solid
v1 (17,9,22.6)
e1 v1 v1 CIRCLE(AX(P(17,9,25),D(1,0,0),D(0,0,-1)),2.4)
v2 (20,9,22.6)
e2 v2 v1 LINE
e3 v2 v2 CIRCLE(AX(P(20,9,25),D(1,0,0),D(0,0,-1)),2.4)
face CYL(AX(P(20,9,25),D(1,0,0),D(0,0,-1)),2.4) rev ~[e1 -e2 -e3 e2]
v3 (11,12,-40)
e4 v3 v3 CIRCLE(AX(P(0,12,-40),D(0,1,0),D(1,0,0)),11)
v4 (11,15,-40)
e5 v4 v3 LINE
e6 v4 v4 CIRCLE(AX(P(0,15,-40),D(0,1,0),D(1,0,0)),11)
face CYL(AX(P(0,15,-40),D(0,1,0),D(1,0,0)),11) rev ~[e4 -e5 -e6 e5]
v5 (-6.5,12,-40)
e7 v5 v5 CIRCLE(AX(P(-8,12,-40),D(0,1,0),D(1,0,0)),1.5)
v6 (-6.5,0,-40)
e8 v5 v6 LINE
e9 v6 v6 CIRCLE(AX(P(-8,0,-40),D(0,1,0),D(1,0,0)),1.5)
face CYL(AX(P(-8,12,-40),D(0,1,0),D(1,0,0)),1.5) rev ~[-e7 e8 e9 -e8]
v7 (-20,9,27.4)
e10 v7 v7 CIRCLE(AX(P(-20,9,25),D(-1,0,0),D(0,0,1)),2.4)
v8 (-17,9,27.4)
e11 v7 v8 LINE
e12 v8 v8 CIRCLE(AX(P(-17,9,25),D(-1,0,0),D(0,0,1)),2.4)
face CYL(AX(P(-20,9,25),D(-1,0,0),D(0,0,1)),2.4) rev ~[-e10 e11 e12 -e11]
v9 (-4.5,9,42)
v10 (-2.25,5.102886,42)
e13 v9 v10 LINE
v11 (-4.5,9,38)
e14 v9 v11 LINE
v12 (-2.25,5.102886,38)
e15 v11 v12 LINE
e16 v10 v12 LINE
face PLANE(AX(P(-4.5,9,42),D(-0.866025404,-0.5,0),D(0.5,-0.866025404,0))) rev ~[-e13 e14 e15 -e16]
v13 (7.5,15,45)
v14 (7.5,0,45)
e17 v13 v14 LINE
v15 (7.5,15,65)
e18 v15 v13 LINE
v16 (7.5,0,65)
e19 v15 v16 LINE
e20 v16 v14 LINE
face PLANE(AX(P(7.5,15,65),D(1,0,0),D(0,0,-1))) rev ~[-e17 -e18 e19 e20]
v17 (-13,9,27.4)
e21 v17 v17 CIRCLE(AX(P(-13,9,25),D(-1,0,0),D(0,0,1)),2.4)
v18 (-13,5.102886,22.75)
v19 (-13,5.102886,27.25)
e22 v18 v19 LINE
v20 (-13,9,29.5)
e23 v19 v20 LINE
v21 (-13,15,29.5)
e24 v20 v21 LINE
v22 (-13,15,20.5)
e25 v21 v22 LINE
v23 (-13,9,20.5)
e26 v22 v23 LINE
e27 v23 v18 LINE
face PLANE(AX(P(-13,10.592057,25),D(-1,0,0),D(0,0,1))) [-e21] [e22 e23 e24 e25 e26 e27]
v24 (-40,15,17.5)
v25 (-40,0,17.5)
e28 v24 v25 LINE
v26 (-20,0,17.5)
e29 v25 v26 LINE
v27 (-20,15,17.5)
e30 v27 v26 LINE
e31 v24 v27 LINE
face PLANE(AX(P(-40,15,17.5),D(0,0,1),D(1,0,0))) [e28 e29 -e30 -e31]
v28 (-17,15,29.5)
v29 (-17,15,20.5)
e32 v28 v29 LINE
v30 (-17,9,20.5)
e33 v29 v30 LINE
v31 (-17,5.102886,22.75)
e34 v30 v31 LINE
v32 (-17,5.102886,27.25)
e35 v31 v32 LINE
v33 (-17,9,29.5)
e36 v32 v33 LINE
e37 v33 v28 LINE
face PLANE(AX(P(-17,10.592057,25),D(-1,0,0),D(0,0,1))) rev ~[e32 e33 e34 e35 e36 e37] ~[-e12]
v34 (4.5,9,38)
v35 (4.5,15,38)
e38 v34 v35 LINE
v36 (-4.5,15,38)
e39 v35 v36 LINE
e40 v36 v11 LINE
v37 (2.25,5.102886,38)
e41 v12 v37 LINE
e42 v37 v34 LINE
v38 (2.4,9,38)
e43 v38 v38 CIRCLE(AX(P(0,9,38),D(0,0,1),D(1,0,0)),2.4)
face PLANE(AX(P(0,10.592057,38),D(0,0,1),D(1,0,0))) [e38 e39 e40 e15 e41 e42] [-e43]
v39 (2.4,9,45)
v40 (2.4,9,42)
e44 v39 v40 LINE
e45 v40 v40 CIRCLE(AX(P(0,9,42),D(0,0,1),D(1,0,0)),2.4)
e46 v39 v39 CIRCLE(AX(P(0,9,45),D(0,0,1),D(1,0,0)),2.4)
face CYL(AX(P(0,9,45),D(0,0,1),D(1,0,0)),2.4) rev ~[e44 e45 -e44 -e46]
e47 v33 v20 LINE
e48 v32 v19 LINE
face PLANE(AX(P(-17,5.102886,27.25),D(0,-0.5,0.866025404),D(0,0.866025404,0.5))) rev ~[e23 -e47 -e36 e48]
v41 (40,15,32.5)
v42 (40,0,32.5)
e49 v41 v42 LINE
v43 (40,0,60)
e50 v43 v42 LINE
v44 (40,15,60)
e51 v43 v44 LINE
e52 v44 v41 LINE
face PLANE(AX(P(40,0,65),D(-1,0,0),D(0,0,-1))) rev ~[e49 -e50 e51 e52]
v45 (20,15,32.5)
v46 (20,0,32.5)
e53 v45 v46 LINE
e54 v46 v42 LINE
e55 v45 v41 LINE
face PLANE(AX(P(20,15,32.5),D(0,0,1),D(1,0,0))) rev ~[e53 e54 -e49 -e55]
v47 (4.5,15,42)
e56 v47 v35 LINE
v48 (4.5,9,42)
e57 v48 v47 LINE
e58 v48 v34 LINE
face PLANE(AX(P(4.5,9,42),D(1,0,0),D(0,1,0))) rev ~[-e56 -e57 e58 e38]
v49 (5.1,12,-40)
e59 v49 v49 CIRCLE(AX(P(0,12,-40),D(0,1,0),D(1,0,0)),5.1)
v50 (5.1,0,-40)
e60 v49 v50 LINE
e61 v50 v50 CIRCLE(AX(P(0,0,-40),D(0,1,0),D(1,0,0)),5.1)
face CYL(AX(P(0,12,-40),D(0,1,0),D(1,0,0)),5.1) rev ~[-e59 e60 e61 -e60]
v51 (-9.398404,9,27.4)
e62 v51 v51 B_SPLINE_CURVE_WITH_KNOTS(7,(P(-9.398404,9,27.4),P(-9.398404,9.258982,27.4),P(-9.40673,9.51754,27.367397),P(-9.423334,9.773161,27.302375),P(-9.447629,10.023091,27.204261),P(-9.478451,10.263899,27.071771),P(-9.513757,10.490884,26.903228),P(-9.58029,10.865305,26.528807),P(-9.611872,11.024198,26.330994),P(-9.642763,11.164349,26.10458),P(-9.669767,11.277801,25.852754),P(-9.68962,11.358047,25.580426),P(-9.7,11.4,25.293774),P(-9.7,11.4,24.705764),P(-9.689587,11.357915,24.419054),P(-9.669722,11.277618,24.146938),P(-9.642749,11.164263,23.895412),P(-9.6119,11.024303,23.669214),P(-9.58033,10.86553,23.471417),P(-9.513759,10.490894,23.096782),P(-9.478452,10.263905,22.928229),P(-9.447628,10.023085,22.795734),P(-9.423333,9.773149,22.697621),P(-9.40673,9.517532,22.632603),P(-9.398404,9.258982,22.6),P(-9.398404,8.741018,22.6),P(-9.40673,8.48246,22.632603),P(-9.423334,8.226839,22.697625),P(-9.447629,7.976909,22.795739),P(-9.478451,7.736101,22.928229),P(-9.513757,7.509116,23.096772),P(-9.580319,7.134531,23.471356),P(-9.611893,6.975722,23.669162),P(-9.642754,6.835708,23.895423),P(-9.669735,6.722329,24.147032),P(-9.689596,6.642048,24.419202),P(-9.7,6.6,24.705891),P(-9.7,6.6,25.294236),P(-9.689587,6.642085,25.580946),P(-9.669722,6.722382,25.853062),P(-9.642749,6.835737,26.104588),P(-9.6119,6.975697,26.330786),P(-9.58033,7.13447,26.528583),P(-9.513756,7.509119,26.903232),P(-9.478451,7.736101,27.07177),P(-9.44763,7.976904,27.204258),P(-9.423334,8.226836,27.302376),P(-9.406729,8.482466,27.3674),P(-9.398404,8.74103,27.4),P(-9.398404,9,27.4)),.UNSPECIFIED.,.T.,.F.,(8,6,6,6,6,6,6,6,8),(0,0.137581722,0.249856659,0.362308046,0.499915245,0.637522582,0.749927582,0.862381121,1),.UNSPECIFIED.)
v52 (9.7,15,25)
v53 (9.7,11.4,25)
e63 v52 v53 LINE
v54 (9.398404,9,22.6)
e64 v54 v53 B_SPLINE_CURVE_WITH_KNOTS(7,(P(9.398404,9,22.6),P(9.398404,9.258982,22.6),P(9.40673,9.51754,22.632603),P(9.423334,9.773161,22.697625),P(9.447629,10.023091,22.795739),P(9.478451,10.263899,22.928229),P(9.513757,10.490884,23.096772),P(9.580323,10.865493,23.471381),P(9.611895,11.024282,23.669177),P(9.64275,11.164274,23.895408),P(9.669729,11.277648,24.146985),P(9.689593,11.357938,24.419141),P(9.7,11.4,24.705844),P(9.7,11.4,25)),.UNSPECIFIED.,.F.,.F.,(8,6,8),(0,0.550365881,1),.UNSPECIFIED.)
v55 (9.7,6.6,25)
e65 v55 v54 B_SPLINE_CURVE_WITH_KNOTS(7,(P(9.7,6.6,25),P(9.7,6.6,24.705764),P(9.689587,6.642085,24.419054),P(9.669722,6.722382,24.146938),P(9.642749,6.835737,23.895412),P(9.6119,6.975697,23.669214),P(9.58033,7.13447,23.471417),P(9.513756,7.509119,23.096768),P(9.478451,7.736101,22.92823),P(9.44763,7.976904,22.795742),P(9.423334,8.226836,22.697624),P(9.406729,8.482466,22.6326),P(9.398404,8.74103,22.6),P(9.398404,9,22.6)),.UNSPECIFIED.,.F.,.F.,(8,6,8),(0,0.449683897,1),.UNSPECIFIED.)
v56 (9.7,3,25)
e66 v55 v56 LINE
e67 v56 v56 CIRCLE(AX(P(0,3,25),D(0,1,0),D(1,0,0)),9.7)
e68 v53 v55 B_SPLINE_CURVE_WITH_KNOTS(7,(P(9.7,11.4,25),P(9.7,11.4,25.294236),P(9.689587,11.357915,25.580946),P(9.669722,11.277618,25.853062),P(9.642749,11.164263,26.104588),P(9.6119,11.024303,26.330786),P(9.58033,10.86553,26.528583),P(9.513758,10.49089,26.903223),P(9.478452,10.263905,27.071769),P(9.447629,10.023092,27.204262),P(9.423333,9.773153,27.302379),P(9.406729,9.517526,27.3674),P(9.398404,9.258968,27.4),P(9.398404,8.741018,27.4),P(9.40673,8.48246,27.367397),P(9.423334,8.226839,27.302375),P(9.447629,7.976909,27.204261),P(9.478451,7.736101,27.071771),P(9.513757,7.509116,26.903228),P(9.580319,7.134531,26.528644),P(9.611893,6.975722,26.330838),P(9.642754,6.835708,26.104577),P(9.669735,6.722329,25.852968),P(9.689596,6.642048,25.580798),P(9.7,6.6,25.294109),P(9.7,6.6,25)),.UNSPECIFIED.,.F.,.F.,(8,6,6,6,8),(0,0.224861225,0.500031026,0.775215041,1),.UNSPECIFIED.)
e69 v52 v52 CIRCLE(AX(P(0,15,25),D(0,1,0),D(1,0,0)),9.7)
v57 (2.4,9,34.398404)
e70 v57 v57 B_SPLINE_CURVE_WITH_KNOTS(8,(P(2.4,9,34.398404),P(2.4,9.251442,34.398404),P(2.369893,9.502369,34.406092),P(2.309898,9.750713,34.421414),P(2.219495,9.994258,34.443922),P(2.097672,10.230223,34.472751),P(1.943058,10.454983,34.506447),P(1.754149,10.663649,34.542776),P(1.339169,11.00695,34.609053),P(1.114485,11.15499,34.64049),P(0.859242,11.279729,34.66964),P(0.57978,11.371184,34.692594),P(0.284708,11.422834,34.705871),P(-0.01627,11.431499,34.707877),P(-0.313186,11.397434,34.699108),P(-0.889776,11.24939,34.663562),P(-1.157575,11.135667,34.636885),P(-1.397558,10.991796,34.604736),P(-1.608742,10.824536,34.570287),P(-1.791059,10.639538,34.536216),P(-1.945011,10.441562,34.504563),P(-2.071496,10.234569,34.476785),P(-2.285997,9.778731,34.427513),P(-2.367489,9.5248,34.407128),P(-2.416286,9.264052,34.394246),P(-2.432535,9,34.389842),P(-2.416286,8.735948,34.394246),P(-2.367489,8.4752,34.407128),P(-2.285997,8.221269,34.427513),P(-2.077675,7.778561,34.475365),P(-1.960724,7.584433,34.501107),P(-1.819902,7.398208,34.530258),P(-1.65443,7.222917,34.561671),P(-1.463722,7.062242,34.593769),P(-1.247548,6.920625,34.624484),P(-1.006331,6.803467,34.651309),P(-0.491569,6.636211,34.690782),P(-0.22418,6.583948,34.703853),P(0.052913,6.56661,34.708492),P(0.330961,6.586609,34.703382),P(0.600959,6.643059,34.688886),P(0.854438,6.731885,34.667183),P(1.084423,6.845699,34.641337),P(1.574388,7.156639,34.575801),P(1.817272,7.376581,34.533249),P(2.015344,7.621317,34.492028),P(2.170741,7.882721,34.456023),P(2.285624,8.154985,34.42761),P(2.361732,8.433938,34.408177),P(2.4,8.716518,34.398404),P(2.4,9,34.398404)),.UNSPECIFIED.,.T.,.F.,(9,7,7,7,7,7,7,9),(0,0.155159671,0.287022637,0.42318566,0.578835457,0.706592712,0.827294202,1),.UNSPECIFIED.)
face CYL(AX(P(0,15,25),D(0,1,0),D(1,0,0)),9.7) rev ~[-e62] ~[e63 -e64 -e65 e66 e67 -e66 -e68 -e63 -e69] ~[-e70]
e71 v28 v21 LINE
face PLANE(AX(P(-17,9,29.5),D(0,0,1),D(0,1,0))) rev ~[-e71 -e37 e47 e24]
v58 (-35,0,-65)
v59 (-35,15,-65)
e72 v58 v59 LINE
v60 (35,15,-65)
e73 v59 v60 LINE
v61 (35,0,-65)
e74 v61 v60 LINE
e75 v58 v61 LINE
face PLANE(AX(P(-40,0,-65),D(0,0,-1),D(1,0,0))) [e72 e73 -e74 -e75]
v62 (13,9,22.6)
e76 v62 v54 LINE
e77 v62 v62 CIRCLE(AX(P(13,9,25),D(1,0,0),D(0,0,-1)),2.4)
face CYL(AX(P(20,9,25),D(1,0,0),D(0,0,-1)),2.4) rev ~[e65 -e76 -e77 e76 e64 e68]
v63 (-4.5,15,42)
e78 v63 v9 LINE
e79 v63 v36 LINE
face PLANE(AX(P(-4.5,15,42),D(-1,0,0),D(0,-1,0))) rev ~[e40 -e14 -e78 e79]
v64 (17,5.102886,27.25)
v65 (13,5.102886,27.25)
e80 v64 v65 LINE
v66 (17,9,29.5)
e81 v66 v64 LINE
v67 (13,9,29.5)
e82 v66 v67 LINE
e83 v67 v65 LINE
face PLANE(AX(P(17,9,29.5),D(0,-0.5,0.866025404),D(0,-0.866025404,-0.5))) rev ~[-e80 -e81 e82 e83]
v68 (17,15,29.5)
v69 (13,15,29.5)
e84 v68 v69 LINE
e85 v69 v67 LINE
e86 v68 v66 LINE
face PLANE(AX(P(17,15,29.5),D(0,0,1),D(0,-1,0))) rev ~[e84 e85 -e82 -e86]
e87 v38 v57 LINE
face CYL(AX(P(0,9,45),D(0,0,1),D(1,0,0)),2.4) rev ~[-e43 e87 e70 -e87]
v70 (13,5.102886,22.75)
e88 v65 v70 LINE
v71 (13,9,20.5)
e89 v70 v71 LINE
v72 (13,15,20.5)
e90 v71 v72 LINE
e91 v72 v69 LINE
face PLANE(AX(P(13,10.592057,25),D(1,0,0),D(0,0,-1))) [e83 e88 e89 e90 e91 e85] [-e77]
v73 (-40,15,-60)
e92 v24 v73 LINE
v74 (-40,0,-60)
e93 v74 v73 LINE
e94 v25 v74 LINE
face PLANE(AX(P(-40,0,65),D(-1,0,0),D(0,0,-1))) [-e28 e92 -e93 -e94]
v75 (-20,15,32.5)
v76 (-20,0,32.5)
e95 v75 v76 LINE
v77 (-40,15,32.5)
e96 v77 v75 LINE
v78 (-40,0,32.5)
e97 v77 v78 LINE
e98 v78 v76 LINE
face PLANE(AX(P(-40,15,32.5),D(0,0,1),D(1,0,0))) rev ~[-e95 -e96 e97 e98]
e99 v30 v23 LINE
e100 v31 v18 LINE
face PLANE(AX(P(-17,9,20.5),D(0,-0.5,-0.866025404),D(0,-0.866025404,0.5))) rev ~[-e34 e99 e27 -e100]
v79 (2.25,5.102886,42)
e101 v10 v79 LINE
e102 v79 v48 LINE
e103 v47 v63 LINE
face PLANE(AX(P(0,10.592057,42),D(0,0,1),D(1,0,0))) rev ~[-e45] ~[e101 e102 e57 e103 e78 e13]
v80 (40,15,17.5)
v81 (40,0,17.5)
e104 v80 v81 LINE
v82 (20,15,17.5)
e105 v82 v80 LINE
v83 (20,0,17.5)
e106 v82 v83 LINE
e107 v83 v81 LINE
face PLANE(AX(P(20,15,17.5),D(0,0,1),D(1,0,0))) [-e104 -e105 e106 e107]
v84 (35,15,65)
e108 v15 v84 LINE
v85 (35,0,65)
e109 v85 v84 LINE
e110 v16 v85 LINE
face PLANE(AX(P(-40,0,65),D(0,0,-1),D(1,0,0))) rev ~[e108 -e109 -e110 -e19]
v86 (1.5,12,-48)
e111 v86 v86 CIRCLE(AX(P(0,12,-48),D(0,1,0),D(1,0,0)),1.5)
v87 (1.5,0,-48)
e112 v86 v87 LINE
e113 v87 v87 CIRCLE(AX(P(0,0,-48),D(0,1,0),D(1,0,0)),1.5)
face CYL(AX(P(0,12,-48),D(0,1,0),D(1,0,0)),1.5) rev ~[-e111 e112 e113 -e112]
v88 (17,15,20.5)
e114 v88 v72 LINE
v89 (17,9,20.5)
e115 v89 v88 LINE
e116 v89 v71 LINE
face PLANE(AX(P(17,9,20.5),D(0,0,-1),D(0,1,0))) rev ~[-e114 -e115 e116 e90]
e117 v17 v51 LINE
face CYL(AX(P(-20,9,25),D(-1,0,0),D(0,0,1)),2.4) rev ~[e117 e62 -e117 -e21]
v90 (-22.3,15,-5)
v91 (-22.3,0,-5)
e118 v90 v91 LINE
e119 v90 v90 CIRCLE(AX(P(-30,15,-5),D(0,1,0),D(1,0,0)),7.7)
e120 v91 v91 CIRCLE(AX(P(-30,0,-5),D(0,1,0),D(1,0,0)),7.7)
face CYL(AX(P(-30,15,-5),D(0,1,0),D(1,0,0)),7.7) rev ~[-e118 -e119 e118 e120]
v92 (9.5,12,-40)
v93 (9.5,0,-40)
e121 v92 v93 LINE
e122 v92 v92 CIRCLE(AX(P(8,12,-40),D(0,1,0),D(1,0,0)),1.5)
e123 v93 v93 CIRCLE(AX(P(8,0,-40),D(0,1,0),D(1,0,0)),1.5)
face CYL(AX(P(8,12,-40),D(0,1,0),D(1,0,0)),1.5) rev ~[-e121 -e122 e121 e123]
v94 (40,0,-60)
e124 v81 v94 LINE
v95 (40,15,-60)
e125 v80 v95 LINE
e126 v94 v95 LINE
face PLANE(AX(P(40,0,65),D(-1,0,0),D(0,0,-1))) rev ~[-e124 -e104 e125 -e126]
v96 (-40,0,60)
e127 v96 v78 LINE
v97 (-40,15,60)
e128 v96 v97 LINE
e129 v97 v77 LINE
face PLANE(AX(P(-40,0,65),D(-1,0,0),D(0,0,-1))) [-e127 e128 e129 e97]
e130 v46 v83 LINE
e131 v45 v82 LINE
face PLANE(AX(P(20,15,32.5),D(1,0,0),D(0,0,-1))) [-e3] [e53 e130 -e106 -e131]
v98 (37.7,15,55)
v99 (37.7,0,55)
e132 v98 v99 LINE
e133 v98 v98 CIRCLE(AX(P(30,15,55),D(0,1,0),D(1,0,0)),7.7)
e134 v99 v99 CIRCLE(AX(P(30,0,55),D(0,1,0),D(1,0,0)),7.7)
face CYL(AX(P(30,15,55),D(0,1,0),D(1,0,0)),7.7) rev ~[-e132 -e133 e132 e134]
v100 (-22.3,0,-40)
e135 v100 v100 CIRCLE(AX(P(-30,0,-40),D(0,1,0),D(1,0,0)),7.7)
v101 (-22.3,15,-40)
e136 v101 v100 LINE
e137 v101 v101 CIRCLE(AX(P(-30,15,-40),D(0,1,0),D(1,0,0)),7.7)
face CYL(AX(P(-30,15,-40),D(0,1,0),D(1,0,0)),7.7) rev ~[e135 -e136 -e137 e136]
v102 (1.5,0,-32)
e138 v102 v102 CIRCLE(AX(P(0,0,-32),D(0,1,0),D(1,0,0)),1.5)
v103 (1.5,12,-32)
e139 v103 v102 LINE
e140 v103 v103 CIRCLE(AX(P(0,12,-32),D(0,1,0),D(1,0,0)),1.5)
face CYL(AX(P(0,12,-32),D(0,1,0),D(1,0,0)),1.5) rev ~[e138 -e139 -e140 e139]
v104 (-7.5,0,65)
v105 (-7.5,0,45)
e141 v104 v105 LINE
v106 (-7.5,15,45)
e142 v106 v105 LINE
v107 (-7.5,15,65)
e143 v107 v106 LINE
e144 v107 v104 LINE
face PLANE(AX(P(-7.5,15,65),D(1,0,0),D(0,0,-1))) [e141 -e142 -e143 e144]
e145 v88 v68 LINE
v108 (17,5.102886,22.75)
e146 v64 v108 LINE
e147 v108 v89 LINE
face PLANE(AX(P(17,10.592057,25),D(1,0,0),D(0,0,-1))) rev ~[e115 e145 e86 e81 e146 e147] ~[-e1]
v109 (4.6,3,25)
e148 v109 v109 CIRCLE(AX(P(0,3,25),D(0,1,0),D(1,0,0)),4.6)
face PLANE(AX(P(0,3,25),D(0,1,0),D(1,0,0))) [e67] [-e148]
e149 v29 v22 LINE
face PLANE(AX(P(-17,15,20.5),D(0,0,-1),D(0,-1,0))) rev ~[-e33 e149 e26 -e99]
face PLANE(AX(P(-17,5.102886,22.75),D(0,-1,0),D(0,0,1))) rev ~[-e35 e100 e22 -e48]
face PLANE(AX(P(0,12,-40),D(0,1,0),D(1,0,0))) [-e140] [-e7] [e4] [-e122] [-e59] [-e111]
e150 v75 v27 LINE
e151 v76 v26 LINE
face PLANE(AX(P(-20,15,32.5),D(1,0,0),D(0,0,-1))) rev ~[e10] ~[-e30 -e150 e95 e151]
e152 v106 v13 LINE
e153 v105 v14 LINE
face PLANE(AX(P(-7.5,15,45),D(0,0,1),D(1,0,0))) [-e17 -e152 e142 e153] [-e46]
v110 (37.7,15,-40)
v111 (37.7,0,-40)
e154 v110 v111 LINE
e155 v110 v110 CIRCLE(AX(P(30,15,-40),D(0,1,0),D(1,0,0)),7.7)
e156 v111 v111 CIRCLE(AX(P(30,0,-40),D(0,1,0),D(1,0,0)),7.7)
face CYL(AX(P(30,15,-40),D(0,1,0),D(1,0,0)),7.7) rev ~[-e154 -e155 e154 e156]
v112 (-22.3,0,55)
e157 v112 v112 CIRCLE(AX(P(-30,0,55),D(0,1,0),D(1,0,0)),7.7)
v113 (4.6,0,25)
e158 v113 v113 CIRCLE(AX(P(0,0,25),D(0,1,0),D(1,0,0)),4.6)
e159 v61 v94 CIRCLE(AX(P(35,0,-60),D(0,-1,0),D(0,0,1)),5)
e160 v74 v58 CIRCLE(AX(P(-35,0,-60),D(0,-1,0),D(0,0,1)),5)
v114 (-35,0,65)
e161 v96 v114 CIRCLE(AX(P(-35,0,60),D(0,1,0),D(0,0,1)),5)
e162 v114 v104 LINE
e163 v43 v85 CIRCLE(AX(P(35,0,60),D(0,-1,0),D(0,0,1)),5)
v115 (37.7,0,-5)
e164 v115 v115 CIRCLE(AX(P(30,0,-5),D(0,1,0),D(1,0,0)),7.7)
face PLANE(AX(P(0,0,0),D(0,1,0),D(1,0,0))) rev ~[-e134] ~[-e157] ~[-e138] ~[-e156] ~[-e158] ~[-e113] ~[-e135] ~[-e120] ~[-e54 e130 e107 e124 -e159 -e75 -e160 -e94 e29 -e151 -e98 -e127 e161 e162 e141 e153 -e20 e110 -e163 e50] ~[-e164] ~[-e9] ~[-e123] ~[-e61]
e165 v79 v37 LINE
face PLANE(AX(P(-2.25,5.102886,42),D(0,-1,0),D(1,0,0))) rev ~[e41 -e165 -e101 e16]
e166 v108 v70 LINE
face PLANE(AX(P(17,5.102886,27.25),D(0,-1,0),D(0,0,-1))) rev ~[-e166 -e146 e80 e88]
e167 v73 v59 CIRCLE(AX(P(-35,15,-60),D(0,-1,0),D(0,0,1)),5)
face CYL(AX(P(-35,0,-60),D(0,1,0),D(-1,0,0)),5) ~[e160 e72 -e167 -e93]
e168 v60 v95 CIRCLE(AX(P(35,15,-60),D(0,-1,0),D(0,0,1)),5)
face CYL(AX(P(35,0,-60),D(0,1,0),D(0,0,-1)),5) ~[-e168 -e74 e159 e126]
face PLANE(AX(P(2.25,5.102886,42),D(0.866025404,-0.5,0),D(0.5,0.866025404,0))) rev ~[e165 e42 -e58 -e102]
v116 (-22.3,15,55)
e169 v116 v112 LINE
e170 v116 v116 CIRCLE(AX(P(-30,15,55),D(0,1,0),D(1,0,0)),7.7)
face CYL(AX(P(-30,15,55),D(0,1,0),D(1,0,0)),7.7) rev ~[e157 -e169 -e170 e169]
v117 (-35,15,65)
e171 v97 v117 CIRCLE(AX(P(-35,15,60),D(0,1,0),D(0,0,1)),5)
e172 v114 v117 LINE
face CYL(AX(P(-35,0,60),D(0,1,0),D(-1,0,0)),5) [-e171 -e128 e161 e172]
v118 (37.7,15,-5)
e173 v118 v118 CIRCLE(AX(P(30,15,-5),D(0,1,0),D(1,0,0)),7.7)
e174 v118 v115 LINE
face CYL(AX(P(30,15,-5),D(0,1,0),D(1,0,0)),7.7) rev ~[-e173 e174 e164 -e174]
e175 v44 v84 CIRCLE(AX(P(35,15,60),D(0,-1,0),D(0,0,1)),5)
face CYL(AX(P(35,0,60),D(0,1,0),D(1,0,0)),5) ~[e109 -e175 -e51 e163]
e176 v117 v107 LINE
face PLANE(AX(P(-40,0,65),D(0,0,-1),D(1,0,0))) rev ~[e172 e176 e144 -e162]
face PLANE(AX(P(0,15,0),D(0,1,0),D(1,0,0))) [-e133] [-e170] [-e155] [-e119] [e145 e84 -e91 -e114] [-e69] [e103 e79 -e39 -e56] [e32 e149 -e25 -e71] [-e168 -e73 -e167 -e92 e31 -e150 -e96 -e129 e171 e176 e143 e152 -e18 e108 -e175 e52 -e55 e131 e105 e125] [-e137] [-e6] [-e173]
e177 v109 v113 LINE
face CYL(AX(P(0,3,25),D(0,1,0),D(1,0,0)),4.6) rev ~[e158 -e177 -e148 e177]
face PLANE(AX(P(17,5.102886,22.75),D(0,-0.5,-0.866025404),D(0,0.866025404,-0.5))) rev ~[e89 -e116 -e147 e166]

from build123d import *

# Parameters (mm, degrees)
ESBO_O1_W                = 80
ESBO_O1_H                = 130
RESSALTO_EXTRUS_O1_DEPTH = 15
ESBO_O2_R                = 7.7
CORTE_EXTRUS_O1_DEPTH    = 16
ESBO_O3_R                = 9.7
CORTE_EXTRUS_O2_DEPTH    = 12
ESBO_O4_R                = 4.6
CORTE_EXTRUS_O3_DEPTH    = 4
ESBO_O5_W                = 15
ESBO_O5_H                = 20
ESBO_O5_W_2              = 20
ESBO_O5_H_2              = 15
CORTE_EXTRUS_O4_DEPTH    = 16
ESBO_O6_R                = 2.4
CORTE_EXTRUS_O5_DEPTH    = 15
ESBO_O7_R                = 2.4
CORTE_EXTRUS_O6_DEPTH    = 15
ESBO_O8_R                = 11
CORTE_EXTRUS_O7_DEPTH    = 3
ESBO_O10_R               = 5.1
ESBO_O10_R_2             = 1.5
CORTE_EXTRUS_O9_DEPTH    = 13
FILETE1_R                = 5
FILETE2_R                = 5
ESBO_O11_R               = 2.4
CORTE_EXTRUS_O10_DEPTH   = 15
CORTE_EXTRUS_O11_DEPTH   = 4
CORTE_EXTRUS_O12_DEPTH   = 4
CORTE_EXTRUS_O13_DEPTH   = 4


with BuildPart() as part:
    # Esboço1 → Ressalto-extrusão1 (new body)
    with BuildSketch(Plane(origin=(0, 0, 0), x_dir=(1, 0, 0), z_dir=(0, 1, 0))):
        Rectangle(ESBO_O1_W, ESBO_O1_H)
    extrude(amount=RESSALTO_EXTRUS_O1_DEPTH)

    # Esboço2 → Corte-extrusão1 (cut, through all)
    with BuildSketch(Plane(origin=(0, 15, 0), x_dir=(1, 0, 0), z_dir=(0, 1, 0))):
        with Locations((-30, 5)):
            Circle(ESBO_O2_R)
        with Locations((30, 5)):
            Circle(ESBO_O2_R)
        with Locations((-30, -55)):
            Circle(ESBO_O2_R)
        with Locations((30, -55)):
            Circle(ESBO_O2_R)
        with Locations((-30, 40)):
            Circle(ESBO_O2_R)
        with Locations((30, 40)):
            Circle(ESBO_O2_R)
    extrude(amount=-CORTE_EXTRUS_O1_DEPTH, mode=Mode.SUBTRACT)

    # Esboço3 → Corte-extrusão2 (cut)
    with BuildSketch(Plane(origin=(0, 15, 0), x_dir=(1, 0, 0), z_dir=(0, 1, 0))):
        with Locations((0, -25)):
            Circle(ESBO_O3_R)
    extrude(amount=-CORTE_EXTRUS_O2_DEPTH, mode=Mode.SUBTRACT)

    # Esboço4 → Corte-extrusão3 (cut, through all)
    with BuildSketch(Plane(origin=(0, 3, 0), x_dir=(1, 0, 0), z_dir=(0, 1, 0))):
        with Locations((0, -25)):
            Circle(ESBO_O4_R)
    extrude(amount=-CORTE_EXTRUS_O3_DEPTH, mode=Mode.SUBTRACT)

    # Esboço5 → Corte-extrusão4 (cut, through all)
    with BuildSketch(Plane(origin=(0, 15, 0), x_dir=(1, 0, 0), z_dir=(0, 1, 0))):
        with Locations((0, -55)):
            Rectangle(ESBO_O5_W, ESBO_O5_H)
        with Locations((30, -25)):
            Rectangle(ESBO_O5_W_2, ESBO_O5_H_2)
        with Locations((-30, -25)):
            Rectangle(ESBO_O5_W_2, ESBO_O5_H_2)
    extrude(amount=-CORTE_EXTRUS_O4_DEPTH, mode=Mode.SUBTRACT)

    # Esboço6 → Corte-extrusão5 (cut)
    with BuildSketch(Plane.XY.offset(45)):
        with Locations((0, 9)):
            Circle(ESBO_O6_R)
    extrude(amount=-CORTE_EXTRUS_O5_DEPTH, mode=Mode.SUBTRACT)

    # Esboço7 → Corte-extrusão6 (cut)
    with BuildSketch(Plane(origin=(20, 0, 0), x_dir=(0, 0, -1), z_dir=(1, 0, 0))):
        with Locations((-25, 9)):
            Circle(ESBO_O7_R)
    extrude(amount=-CORTE_EXTRUS_O6_DEPTH, mode=Mode.SUBTRACT)

    # Esboço8 → Corte-extrusão7 (cut)
    with BuildSketch(Plane(origin=(0, 15, 0), x_dir=(1, 0, 0), z_dir=(0, 1, 0))):
        with Locations((0, 40)):
            Circle(ESBO_O8_R)
    extrude(amount=-CORTE_EXTRUS_O7_DEPTH, mode=Mode.SUBTRACT)

    # Esboço10 → Corte-extrusão9 (cut, through all)
    with BuildSketch(Plane(origin=(0, 12, 0), x_dir=(1, 0, 0), z_dir=(0, 1, 0))):
        with Locations((0, 40)):
            Circle(ESBO_O10_R)
        with Locations((0, 48)):
            Circle(ESBO_O10_R_2)
        with Locations((8, 40)):
            Circle(ESBO_O10_R_2)
        with Locations((0, 32)):
            Circle(ESBO_O10_R_2)
        with Locations((-8, 40)):
            Circle(ESBO_O10_R_2)
    extrude(amount=-CORTE_EXTRUS_O9_DEPTH, mode=Mode.SUBTRACT)

    # Filete1
    filete1_edges = [part.edges().sort_by_distance(p)[0] for p in [
        (-40, 7.5, -65),
        (40, 7.5, -65),
    ]]
    fillet(filete1_edges, radius=FILETE1_R)

    # Filete2
    filete2_edges = [part.edges().sort_by_distance(p)[0] for p in [
        (40, 7.5, 65),
        (-40, 7.5, 65),
    ]]
    fillet(filete2_edges, radius=FILETE2_R)

    # Esboço11 → Corte-extrusão10 (cut)
    with BuildSketch(Plane.ZY.offset(20)):
        with Locations((25, 9)):
            Circle(ESBO_O11_R)
    extrude(amount=-CORTE_EXTRUS_O10_DEPTH, mode=Mode.SUBTRACT)

    # Esboço12 → Corte-extrusão11 (cut)
    with BuildSketch(Plane.ZY.offset(17)):
        Polygon((22.75, 5.102885683), (27.25, 5.102885683), (29.5, 9), (29.5, 15), (20.5, 15), (20.5, 9), align=None)
    extrude(amount=-CORTE_EXTRUS_O11_DEPTH, mode=Mode.SUBTRACT)

    # Esboço13 → Corte-extrusão12 (cut)
    with BuildSketch(Plane.XY.offset(42)):
        Polygon((-2.25, 5.102885683), (2.25, 5.102885683), (4.5, 9), (4.5, 15), (-4.5, 15), (-4.5, 9), align=None)
    extrude(amount=-CORTE_EXTRUS_O12_DEPTH, mode=Mode.SUBTRACT)

    # Esboço14 → Corte-extrusão13 (cut)
    with BuildSketch(Plane(origin=(17, 0, 0), x_dir=(0, 0, -1), z_dir=(1, 0, 0))):
        Polygon((-27.25, 5.102885683), (-22.75, 5.102885683), (-20.5, 9), (-20.5, 15), (-29.5, 15), (-29.5, 9), align=None)
    extrude(amount=-CORTE_EXTRUS_O13_DEPTH, mode=Mode.SUBTRACT)


solid = part.part
